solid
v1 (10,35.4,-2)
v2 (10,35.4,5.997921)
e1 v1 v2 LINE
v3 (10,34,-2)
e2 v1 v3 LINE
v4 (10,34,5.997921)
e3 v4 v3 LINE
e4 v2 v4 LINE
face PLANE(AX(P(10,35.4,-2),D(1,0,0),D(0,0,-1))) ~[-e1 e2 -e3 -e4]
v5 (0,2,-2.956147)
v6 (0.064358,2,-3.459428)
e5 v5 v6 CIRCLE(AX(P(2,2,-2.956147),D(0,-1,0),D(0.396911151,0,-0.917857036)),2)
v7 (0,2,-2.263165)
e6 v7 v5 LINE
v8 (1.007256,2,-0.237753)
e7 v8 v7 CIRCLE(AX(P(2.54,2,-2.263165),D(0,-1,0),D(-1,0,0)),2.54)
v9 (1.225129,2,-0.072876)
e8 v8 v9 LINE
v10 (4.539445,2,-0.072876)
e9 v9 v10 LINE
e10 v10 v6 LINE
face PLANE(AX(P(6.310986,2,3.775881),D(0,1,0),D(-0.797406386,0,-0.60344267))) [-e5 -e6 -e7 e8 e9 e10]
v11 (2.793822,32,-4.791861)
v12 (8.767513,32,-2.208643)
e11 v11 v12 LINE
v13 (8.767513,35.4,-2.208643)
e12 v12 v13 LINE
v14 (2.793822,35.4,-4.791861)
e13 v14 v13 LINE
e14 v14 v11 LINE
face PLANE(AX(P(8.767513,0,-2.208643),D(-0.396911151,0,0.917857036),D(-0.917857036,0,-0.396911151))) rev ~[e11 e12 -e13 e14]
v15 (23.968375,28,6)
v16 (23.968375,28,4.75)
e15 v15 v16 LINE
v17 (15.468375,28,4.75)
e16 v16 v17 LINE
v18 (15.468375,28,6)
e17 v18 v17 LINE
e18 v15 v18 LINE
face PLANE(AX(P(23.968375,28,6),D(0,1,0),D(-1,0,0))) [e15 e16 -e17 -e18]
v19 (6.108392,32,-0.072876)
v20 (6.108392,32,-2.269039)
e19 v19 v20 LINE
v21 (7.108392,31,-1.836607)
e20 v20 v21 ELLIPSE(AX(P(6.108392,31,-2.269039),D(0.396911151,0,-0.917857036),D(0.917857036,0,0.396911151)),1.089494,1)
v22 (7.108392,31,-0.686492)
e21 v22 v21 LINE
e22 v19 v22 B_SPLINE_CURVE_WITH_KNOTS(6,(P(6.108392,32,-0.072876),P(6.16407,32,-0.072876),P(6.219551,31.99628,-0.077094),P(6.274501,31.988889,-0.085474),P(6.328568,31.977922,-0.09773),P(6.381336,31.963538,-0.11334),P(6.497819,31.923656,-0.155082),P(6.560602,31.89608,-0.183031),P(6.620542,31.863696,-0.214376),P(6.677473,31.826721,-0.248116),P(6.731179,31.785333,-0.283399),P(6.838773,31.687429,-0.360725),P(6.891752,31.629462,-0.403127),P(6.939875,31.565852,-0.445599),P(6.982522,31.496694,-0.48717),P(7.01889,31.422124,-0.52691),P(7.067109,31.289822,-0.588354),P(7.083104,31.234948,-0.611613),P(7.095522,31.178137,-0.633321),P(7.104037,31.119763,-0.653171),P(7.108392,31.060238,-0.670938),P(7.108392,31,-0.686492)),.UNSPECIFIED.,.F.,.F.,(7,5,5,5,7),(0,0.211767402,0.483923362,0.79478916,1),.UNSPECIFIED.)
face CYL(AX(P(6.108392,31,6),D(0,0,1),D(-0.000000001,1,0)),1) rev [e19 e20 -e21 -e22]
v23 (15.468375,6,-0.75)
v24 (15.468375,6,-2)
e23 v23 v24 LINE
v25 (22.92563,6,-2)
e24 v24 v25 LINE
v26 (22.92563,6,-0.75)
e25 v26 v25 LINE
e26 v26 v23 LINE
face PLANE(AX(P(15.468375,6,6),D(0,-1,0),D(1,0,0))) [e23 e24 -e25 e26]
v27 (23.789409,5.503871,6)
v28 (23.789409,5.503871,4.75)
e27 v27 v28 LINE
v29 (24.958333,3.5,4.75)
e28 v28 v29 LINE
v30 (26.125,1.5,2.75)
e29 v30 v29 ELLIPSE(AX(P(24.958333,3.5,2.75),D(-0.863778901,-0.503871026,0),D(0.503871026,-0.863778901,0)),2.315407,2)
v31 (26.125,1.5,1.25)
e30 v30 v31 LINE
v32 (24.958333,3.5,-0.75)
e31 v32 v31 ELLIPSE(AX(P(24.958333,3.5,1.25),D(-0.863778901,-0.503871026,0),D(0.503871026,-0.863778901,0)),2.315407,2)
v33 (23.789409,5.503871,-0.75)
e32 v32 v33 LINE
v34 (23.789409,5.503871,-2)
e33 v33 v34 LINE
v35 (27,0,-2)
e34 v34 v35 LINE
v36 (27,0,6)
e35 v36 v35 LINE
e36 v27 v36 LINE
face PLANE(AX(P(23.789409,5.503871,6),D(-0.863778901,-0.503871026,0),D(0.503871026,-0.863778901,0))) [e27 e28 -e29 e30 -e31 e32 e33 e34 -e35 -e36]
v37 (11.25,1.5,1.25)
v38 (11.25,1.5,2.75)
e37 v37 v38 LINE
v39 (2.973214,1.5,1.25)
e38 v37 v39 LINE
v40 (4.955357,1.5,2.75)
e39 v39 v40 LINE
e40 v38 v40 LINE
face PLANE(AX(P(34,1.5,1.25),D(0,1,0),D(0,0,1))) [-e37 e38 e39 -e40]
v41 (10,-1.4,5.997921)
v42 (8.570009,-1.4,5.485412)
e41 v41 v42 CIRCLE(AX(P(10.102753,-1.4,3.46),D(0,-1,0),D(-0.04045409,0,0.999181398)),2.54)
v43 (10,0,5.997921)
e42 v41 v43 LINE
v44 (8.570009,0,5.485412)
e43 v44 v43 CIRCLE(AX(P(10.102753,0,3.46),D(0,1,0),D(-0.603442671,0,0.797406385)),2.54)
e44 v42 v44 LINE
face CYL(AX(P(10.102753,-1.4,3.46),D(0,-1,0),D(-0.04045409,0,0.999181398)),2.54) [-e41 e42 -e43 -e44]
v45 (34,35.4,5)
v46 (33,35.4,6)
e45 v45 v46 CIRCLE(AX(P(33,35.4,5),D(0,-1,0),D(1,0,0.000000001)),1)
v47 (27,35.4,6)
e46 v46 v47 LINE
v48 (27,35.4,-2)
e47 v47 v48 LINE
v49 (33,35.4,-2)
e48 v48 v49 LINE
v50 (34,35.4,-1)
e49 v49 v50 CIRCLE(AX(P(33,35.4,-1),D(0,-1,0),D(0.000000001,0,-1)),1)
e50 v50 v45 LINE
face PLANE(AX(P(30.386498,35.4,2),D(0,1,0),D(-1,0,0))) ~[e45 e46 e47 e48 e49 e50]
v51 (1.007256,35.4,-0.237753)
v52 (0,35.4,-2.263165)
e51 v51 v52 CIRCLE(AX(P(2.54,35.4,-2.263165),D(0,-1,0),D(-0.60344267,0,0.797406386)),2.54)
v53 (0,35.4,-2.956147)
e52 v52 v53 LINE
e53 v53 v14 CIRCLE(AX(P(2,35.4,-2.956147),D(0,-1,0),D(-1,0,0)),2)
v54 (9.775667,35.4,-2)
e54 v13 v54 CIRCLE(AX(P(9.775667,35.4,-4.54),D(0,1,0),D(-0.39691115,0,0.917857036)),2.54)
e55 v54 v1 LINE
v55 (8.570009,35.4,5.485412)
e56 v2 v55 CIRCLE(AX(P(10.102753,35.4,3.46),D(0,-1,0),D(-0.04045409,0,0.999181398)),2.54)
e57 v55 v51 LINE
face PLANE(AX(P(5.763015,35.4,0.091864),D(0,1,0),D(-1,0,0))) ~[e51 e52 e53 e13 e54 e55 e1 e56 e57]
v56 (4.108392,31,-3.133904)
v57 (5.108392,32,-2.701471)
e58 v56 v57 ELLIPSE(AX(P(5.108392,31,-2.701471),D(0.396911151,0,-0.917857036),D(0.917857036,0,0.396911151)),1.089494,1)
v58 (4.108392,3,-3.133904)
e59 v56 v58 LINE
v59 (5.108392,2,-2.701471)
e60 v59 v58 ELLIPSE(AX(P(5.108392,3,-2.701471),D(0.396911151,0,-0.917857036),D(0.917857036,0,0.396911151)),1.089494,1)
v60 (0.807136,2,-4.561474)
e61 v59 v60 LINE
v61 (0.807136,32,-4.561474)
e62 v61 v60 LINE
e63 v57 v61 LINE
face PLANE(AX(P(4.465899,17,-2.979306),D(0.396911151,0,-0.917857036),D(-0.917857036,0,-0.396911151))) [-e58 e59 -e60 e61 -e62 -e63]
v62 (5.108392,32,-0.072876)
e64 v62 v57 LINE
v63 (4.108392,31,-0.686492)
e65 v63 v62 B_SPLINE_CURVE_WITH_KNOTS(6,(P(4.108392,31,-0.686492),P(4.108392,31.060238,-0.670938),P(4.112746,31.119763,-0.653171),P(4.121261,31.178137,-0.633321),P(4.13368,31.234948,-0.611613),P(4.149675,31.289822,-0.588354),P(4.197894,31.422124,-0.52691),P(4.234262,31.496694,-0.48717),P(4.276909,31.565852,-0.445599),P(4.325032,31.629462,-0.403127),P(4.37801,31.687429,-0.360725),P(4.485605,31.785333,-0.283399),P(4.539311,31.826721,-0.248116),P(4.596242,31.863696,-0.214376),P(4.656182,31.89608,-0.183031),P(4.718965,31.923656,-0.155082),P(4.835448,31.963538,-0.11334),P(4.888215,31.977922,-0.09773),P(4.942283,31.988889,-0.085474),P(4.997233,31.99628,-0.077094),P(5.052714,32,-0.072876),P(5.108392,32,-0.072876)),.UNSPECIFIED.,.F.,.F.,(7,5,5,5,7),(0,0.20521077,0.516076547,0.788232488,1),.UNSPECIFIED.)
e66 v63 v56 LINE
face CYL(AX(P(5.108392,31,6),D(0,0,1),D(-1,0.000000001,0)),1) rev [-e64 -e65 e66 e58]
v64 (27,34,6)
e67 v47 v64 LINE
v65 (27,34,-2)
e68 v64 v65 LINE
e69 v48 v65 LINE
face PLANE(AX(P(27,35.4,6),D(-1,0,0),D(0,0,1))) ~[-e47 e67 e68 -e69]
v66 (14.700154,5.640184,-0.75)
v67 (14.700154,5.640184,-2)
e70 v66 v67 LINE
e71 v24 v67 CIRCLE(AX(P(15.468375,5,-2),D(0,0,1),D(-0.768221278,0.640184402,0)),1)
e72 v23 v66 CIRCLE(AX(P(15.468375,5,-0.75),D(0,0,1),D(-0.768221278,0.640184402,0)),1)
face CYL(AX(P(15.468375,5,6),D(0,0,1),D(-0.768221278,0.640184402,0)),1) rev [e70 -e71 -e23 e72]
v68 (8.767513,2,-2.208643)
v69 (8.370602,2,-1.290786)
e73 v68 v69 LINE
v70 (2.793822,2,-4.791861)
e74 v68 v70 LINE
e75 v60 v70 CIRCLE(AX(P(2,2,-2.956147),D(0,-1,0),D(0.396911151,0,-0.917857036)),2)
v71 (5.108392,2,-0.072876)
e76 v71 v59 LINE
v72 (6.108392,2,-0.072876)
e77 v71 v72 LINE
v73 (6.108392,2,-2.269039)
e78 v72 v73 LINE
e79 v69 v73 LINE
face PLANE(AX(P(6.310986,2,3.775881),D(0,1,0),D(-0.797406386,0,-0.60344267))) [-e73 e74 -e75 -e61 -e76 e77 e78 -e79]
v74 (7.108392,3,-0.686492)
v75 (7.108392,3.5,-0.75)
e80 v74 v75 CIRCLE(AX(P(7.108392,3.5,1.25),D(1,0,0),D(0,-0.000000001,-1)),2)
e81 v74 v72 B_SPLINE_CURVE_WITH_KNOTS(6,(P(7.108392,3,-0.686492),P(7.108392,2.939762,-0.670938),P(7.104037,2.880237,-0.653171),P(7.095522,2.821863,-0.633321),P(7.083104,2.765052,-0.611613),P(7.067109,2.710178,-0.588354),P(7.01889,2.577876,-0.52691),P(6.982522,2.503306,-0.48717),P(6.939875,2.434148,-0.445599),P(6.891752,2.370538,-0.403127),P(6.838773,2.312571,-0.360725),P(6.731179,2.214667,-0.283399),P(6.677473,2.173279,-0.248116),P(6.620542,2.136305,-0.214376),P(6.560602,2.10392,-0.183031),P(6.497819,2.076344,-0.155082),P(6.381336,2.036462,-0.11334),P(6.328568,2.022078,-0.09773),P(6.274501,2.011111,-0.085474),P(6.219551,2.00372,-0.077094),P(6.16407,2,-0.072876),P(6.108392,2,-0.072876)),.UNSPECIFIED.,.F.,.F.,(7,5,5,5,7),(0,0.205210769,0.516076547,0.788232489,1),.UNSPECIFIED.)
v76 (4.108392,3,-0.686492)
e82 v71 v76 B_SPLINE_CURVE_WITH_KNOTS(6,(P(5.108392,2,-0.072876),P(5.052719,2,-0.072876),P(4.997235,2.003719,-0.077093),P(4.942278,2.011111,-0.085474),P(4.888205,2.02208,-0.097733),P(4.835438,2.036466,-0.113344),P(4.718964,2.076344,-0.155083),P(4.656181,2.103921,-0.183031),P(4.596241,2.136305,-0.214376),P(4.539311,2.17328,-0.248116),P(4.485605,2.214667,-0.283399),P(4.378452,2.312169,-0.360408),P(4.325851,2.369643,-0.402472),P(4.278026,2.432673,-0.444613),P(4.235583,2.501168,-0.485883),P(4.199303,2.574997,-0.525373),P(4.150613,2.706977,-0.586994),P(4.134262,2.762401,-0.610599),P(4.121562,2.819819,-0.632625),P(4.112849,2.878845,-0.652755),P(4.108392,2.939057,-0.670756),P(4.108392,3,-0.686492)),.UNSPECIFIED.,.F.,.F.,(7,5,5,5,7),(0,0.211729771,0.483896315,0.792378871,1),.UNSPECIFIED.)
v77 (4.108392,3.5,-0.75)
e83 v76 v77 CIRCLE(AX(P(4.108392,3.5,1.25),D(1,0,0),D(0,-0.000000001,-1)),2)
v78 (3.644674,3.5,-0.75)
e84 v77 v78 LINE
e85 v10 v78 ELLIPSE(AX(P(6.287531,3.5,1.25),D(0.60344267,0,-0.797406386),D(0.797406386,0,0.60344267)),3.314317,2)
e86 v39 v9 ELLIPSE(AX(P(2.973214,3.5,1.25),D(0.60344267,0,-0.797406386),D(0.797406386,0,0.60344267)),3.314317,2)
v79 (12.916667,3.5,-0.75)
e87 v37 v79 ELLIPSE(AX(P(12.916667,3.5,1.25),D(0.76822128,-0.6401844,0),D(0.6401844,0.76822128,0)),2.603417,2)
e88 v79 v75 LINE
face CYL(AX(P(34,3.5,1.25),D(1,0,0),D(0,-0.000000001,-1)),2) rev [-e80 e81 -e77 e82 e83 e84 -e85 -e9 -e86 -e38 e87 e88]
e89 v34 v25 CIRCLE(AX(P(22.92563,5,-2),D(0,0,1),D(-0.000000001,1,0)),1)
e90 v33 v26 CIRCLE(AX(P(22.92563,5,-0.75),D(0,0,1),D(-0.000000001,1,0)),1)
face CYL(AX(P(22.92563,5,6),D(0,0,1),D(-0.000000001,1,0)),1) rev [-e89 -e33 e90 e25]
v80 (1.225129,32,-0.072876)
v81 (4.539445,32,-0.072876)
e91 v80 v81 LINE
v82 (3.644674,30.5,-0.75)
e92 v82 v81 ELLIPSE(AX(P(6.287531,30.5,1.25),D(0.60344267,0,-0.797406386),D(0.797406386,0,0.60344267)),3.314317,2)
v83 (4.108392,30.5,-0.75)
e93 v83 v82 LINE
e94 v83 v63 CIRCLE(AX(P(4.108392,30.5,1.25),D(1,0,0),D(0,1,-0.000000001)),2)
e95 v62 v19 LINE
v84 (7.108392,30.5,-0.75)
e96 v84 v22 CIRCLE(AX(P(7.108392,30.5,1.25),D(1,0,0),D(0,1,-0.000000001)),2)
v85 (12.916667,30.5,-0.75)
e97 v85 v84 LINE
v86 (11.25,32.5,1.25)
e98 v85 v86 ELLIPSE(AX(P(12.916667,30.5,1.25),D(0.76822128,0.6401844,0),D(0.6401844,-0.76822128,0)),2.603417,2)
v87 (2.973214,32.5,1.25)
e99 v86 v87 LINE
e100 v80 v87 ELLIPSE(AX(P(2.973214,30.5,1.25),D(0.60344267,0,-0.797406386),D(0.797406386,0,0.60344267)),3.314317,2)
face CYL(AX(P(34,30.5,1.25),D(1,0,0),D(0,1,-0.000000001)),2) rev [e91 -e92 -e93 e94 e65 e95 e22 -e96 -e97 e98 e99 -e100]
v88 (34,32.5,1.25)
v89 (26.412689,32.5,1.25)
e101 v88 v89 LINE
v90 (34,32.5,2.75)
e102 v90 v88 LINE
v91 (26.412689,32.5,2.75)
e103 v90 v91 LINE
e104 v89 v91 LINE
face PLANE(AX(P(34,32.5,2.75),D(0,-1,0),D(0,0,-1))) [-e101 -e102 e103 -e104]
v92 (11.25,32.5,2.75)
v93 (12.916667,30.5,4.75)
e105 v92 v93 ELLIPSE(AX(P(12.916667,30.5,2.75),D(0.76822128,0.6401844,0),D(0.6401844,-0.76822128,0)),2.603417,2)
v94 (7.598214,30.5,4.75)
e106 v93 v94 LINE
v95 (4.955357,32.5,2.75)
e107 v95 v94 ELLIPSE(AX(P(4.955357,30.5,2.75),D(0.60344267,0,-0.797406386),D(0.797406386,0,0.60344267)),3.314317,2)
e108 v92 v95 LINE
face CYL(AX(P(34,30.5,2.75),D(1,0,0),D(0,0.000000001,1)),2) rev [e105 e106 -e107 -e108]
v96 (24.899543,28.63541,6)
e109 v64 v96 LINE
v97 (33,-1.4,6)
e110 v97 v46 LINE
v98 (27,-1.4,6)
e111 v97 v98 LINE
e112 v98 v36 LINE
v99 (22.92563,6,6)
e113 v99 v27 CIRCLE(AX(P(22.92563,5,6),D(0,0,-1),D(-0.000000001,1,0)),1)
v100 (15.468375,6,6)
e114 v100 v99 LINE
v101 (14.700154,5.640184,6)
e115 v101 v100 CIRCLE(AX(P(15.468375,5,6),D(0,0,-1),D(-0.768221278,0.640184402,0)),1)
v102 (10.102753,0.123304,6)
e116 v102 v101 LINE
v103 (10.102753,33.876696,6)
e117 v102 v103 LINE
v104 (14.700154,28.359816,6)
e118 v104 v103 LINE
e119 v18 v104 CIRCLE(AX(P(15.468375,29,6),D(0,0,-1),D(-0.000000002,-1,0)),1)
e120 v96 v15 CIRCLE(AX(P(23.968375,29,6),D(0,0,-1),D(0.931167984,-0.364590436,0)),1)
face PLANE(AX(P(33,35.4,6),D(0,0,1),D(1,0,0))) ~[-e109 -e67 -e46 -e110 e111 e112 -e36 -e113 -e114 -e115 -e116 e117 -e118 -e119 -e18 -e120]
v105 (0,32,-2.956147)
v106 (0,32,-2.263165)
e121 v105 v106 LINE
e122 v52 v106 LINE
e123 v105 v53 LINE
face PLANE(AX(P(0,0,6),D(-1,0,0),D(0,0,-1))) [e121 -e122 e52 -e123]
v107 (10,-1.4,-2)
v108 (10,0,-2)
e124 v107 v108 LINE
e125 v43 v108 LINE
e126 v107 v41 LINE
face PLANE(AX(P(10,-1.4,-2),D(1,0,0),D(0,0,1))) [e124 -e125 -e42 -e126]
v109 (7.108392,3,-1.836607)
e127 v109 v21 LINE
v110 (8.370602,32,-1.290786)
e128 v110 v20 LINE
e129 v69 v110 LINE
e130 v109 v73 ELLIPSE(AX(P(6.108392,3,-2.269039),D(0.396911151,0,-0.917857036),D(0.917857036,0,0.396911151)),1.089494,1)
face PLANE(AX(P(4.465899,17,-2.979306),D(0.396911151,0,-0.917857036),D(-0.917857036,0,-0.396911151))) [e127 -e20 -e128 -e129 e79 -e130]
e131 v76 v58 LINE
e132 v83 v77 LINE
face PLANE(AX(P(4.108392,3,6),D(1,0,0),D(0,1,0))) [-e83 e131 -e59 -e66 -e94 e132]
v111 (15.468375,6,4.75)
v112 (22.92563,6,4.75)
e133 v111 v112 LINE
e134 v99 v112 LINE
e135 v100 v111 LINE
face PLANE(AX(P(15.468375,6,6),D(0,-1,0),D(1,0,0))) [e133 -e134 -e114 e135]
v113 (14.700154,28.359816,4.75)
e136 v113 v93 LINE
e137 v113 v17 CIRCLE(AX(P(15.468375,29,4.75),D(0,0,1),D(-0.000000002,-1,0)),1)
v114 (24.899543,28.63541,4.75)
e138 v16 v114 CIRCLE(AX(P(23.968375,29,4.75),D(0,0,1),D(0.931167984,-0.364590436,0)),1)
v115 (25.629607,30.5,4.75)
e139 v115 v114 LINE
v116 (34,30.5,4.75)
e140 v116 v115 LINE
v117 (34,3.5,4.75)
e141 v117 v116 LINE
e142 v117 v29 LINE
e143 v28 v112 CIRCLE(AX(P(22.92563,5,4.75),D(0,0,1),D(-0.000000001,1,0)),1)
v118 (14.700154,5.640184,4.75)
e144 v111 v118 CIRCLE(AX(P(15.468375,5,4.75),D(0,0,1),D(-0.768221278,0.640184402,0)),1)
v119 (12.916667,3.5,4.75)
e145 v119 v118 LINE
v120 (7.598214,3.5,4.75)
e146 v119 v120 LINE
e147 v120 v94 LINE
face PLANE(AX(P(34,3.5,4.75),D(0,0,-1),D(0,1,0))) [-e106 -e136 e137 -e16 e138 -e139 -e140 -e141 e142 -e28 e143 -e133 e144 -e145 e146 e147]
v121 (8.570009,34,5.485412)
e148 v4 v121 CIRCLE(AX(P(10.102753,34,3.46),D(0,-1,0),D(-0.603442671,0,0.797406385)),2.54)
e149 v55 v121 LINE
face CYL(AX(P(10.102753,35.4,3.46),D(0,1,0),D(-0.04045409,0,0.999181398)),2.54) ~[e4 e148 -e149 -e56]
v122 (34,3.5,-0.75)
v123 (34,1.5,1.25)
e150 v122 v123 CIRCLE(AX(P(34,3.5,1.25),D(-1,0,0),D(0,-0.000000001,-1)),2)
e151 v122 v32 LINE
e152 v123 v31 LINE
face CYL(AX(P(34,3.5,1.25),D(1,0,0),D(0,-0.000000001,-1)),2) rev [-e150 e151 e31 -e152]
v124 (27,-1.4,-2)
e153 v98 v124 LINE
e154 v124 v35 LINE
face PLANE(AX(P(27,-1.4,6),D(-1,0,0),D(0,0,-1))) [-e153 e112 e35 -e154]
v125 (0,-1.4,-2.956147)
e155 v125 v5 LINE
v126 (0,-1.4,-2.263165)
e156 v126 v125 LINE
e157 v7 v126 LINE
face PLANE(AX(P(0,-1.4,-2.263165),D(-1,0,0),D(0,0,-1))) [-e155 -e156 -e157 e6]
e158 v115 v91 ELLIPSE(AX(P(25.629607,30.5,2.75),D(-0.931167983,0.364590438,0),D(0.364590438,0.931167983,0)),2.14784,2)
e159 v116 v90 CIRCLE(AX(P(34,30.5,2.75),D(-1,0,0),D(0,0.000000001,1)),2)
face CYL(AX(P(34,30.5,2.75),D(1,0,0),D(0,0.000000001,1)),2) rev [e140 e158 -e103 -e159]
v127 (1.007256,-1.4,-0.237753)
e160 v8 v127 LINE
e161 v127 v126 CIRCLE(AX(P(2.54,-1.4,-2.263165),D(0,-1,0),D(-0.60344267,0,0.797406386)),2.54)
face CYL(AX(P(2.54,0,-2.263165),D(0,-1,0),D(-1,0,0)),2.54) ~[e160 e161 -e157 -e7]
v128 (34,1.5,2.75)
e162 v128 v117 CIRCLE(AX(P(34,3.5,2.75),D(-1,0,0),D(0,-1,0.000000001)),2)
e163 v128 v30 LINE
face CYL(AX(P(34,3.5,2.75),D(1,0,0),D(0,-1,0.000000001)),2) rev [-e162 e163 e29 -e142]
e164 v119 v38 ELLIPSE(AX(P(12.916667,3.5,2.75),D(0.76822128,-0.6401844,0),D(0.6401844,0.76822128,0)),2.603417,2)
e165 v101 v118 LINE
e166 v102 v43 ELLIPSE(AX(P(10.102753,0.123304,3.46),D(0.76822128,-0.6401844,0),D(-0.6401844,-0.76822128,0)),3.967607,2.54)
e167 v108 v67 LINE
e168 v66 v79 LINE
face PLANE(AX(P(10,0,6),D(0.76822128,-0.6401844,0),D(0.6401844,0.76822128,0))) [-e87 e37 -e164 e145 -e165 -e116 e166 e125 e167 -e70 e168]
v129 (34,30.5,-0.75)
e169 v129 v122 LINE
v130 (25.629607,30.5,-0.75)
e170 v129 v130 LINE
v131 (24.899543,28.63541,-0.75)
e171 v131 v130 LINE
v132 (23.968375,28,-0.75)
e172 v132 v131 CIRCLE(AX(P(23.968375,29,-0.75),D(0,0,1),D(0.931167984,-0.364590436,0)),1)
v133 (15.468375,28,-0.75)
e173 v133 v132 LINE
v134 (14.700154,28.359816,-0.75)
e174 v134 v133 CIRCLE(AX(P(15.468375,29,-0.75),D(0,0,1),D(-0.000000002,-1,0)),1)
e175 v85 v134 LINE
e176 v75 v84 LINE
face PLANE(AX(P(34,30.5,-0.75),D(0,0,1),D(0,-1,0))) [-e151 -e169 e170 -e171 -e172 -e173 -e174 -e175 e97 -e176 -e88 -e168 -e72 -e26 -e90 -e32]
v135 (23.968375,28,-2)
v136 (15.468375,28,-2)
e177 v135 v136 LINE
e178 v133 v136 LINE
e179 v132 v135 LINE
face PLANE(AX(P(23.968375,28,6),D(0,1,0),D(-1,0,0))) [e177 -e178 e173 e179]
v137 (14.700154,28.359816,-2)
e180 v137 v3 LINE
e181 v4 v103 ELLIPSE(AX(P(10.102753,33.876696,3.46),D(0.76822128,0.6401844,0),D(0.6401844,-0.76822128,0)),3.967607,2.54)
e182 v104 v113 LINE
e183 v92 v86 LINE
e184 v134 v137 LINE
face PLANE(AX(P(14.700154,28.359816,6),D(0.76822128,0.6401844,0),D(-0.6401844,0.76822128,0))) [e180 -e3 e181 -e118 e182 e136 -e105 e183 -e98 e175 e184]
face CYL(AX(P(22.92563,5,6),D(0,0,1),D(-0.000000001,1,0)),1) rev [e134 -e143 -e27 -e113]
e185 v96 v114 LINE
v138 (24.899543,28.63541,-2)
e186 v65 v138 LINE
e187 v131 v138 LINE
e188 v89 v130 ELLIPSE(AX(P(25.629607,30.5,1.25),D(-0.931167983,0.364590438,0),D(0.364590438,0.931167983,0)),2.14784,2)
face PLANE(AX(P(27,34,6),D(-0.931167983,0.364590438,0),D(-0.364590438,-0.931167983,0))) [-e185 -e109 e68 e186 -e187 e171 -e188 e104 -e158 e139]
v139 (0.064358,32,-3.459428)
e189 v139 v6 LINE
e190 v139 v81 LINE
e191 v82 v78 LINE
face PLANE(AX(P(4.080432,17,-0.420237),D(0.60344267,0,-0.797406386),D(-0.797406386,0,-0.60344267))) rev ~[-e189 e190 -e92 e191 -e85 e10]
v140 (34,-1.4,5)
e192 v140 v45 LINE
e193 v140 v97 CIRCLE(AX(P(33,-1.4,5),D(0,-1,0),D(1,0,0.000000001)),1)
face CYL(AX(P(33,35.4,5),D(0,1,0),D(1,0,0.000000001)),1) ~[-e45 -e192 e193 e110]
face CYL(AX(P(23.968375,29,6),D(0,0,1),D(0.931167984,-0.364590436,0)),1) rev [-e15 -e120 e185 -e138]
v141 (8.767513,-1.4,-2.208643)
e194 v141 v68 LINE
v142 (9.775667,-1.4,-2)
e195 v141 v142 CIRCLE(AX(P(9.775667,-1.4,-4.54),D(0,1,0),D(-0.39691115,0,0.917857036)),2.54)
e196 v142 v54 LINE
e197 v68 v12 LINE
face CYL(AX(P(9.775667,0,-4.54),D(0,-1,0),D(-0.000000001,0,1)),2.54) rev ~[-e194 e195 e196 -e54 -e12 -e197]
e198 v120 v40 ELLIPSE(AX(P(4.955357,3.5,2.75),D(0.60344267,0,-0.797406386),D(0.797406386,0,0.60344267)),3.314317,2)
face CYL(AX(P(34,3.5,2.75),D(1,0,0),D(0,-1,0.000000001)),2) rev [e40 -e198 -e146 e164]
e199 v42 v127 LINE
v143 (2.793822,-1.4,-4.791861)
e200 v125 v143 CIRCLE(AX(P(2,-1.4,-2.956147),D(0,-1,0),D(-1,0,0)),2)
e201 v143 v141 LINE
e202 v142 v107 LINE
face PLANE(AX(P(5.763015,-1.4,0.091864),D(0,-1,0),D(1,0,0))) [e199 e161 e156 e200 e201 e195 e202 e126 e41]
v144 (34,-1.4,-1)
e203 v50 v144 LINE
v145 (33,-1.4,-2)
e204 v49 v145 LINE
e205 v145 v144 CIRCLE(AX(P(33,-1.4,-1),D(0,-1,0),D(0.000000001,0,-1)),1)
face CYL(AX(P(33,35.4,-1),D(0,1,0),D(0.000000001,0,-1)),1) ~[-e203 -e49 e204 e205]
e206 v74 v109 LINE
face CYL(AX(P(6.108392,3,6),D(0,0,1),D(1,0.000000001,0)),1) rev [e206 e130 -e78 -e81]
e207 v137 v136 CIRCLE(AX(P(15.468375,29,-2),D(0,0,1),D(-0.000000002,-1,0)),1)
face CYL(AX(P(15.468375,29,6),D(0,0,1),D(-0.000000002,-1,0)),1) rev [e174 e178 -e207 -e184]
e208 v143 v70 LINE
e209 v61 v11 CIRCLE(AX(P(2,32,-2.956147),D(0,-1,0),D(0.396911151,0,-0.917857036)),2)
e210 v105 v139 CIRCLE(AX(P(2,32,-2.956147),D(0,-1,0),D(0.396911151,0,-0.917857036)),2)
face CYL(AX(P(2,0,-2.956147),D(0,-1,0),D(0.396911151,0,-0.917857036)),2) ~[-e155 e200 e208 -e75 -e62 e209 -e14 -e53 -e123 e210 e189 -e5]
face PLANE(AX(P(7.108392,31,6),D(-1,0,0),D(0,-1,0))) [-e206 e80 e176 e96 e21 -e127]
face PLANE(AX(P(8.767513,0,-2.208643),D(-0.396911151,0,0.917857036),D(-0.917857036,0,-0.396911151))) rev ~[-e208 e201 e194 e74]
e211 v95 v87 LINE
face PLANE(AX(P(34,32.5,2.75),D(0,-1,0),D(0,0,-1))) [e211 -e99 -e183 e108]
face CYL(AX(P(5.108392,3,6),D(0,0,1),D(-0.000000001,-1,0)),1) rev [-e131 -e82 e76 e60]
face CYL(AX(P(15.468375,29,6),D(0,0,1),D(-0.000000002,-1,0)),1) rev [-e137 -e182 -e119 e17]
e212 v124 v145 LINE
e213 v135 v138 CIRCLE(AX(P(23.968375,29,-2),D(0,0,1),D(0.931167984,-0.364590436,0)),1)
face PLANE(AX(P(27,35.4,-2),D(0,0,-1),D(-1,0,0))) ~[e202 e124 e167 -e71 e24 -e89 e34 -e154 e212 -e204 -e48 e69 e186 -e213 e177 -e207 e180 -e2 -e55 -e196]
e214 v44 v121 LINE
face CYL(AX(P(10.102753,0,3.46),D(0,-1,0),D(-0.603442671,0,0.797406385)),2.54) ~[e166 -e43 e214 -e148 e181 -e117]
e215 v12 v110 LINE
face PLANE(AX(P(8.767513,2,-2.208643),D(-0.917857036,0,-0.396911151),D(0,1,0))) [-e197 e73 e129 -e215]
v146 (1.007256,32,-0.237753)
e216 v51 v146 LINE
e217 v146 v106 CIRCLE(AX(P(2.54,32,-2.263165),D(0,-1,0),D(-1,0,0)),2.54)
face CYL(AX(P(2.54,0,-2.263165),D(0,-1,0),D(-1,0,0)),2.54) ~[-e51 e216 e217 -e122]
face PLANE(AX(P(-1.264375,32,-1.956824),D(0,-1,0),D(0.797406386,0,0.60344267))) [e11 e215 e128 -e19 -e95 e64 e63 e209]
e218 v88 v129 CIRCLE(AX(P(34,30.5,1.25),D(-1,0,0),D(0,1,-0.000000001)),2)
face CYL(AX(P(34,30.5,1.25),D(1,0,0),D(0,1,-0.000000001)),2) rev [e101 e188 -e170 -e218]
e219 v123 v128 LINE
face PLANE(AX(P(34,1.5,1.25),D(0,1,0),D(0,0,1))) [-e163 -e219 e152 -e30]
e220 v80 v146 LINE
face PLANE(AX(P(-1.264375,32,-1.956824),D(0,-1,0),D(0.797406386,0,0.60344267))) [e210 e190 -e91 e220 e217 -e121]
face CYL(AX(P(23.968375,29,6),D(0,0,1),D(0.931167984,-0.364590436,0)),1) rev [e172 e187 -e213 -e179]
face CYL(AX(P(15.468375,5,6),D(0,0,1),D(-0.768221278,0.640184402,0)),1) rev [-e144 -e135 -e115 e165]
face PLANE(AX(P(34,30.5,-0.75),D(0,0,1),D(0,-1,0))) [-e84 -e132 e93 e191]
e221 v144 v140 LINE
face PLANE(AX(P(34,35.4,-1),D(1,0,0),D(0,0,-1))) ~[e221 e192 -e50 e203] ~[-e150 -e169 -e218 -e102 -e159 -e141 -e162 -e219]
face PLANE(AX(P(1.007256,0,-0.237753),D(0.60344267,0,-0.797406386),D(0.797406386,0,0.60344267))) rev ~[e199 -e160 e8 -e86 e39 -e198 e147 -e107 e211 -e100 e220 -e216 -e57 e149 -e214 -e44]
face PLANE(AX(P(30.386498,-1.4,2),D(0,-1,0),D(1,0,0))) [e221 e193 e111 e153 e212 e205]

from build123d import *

# Parameters (mm, degrees)
SKETCH1_W               = 34
SKETCH1_H               = 12
BOSS_EXTRUDE1_DEPTH     = 34.00000007
CUT_EXTRUDE_THIN1_DEPTH = 49.456165807
CUT_EXTRUDE1_DEPTH      = 2
SKETCH5_W               = 8.508301653
SKETCH5_H               = 30.00000007
CUT_EXTRUDE2_DEPTH      = 1
CUT_EXTRUDE3_DEPTH      = 50.315688701
CUT_EXTRUDE4_DEPTH      = 49.456165807
BOSS_EXTRUDE2_START     = 1.4
BOSS_EXTRUDE2_DEPTH     = 1.4


with BuildPart() as part:
    # Sketch1 → Boss-Extrude1 (new body)
    with BuildSketch(Plane(origin=(0, 0, 0), x_dir=(1, 0, 0), z_dir=(0, 1, 0))):
        with Locations((17, 0)):
            Rectangle(SKETCH1_W, SKETCH1_H)
    extrude(amount=BOSS_EXTRUDE1_DEPTH)

    # Sketch2 → Cut-Extrude-Thin1 (cut, through all)
    with BuildSketch(Plane.XZ):
        with BuildLine():
            Line((33, -9.62), (10.827001263, -9.62))
            Line((10.827001263, -9.62), (5.81828527, -11.78593124))
            ThreePointArc((5.81828527, -11.78593124), (-3.282636449, -10.995932133), (-7.62, -2.956146555))
            Line((-7.62, -2.956146555), (-7.62, -2.263164725))
            ThreePointArc((-7.62, -2.263164725), (-6.557151524, 2.260930118), (-3.590977529, 5.838484153))
            Line((-3.590977529, 5.838484153), (3.971775857, 11.561648878))
            ThreePointArc((3.971775857, 11.561648878), (6.869113997, 13.091675675), (10.102753387, 13.62))
            Line((10.102753387, 13.62), (33, 13.62))
            ThreePointArc((33, 13.62), (39.095260454, 11.095260454), (41.62, 5))
            Line((41.62, 5), (41.62, -1))
            ThreePointArc((41.62, -1), (39.095260454, -7.095260454), (33, -9.62))
        make_face()
        with BuildLine():
            Line((33, -2), (9.775667088, -2))
            ThreePointArc((9.775667088, -2), (9.260908141, -2.052707652), (8.767512765, -2.208643129))
            Line((8.767512765, -2.208643129), (2.793822301, -4.791860626))
            ThreePointArc((2.793822301, -4.791860626), (0.901738784, -4.627619648), (0, -2.956146555))
            Line((0, -2.956146555), (0, -2.263164725))
            ThreePointArc((0, -2.263164725), (0.265712119, -1.132141014), (1.007255618, -0.237752506))
            Line((1.007255618, -0.237752506), (8.570009004, 5.485412219))
            ThreePointArc((8.570009004, 5.485412219), (9.294343539, 5.867918919), (10.102753387, 6))
            Line((10.102753387, 6), (33, 6))
            ThreePointArc((33, 6), (33.707106781, 5.707106781), (34, 5))
            Line((34, 5), (34, -1))
            ThreePointArc((34, -1), (33.707106781, -1.707106781), (33, -2))
        make_face(mode=Mode.SUBTRACT)
    extrude(amount=-CUT_EXTRUDE_THIN1_DEPTH, mode=Mode.SUBTRACT)

    # Sketch3 → Cut-Extrude1 (cut)
    with BuildSketch(Plane(origin=(0.481189039, 0, -0.635856944), x_dir=(0.7974063856023161, 0, 0.6034426701855364), z_dir=(-0.6034426701855365, 0, 0.7974063856023162))):
        with BuildLine():
            Line((-2.189052199, 32.00000007), (7.310947801, 32.00000007))
            ThreePointArc((7.310947801, 32.00000007), (8.018054582, 31.707106851), (8.310947801, 31.00000007))
            Line((8.310947801, 31.00000007), (8.310947801, 3))
            ThreePointArc((8.310947801, 3), (8.018054582, 2.292893219), (7.310947801, 2))
            Line((7.310947801, 2), (-2.189052199, 2))
            Line((-2.189052199, 2), (-2.189052199, 32.00000007))
        make_face()
    extrude(amount=-CUT_EXTRUDE1_DEPTH, mode=Mode.SUBTRACT)

    # Sketch5 → Cut-Extrude2 (cut)
    with BuildSketch(Plane(origin=(2.185846154, 0, -5.054769231), x_dir=(-0.9178570359601427, 0, -0.39691115068546684), z_dir=(0.39691115068546684, 0, -0.9178570359601427))):
        with Locations((-2.916537368, 17.000000035)):
            Rectangle(SKETCH5_W, SKETCH5_H)
    extrude(amount=-CUT_EXTRUDE2_DEPTH, mode=Mode.SUBTRACT)

    # Sketch6 → Cut-Extrude3 (cut, through all)
    with BuildSketch(Plane.XY.offset(6)):
        with BuildLine():
            Line((5.108391885, 32.00000007), (6.108391885, 32.00000007))
            ThreePointArc((6.108391885, 32.00000007), (6.815498667, 31.707106851), (7.108391885, 31.00000007))
            Line((7.108391885, 31.00000007), (7.108391885, 3))
            ThreePointArc((7.108391885, 3), (6.815498667, 2.292893219), (6.108391885, 2))
            Line((6.108391885, 2), (5.108391885, 2))
            ThreePointArc((5.108391885, 2), (4.401285104, 2.292893219), (4.108391885, 3))
            Line((4.108391885, 3), (4.108391885, 31.00000007))
            ThreePointArc((4.108391885, 31.00000007), (4.401285104, 31.707106851), (5.108391885, 32.00000007))
        make_face()
        with BuildLine():
            Line((10, 34.00000007), (27, 34.00000007))
            Line((27, 34.00000007), (24.899542929, 28.635409633))
            ThreePointArc((24.899542929, 28.635409633), (24.532028014, 28.173988436), (23.968374946, 28.00000007))
            Line((23.968374946, 28.00000007), (15.468374946, 28.00000007))
            ThreePointArc((15.468374946, 28.00000007), (15.04421955, 28.094410649), (14.700153666, 28.35981567))
            Line((14.700153666, 28.35981567), (10, 34.00000007))
        make_face()
        with BuildLine():
            Line((10, 0), (14.700153666, 5.6401844))
            ThreePointArc((14.700153666, 5.6401844), (15.04421955, 5.905589421), (15.468374946, 6))
            Line((15.468374946, 6), (22.925629668, 6))
            ThreePointArc((22.925629668, 6), (23.423690394, 5.867142153), (23.789408568, 5.503871026))
            Line((23.789408568, 5.503871026), (27, 0))
            Line((27, 0), (10, 0))
        make_face()
    extrude(amount=-CUT_EXTRUDE3_DEPTH, mode=Mode.SUBTRACT)

    # Sketch7 → Cut-Extrude4 (cut, through all)
    with BuildSketch(Plane(origin=(34, 0, 0), x_dir=(0, 0, -1), z_dir=(1, 0, 0))):
        with BuildLine():
            Line((-2.75, 32.50000007), (-1.25, 32.50000007))
            ThreePointArc((-1.25, 32.50000007), (0.164213562, 31.914213632), (0.75, 30.50000007))
            Line((0.75, 30.50000007), (0.75, 3.5))
            ThreePointArc((0.75, 3.5), (0.164213562, 2.085786438), (-1.25, 1.5))
            Line((-1.25, 1.5), (-2.75, 1.5))
            ThreePointArc((-2.75, 1.5), (-4.164213562, 2.085786438), (-4.75, 3.5))
            Line((-4.75, 3.5), (-4.75, 30.50000007))
            ThreePointArc((-4.75, 30.50000007), (-4.164213562, 31.914213632), (-2.75, 32.50000007))
        make_face()
    extrude(amount=-CUT_EXTRUDE4_DEPTH, mode=Mode.SUBTRACT)

    # Sketch8 → Boss-Extrude2 (add)
    with BuildSketch(Plane.XZ.offset(BOSS_EXTRUDE2_START)):
        with BuildLine():
            Line((27, 6), (27, -2))
            Line((27, -2), (33, -2))
            ThreePointArc((33, -2), (33.707106781, -1.707106781), (34, -1))
            Line((34, -1), (34, 5))
            ThreePointArc((34, 5), (33.707106781, 5.707106781), (33, 6))
            Line((33, 6), (27, 6))
        make_face()
        with BuildLine():
            Line((10, -2), (10, 5.997920752))
            ThreePointArc((10, 5.997920752), (9.245793944, 5.851070997), (8.570009004, 5.485412219))
            Line((8.570009004, 5.485412219), (1.007255618, -0.237752506))
            ThreePointArc((1.007255618, -0.237752506), (0.265712119, -1.132141014), (0, -2.263164725))
            Line((0, -2.263164725), (0, -2.956146555))
            ThreePointArc((0, -2.956146555), (0.901738784, -4.627619648), (2.793822301, -4.791860626))
            Line((2.793822301, -4.791860626), (8.767512765, -2.208643129))
            ThreePointArc((8.767512765, -2.208643129), (9.260908141, -2.052707652), (9.775667088, -2))
            Line((9.775667088, -2), (10, -2))
        make_face()
    boss_extrude2 = extrude(amount=-BOSS_EXTRUDE2_DEPTH)

    # Mirror1: Boss-Extrude2 across plane
    add(boss_extrude2.mirror(Plane(origin=(0, 17.000000035, 0), x_dir=(0, 0, 1), z_dir=(0, -1, 0))))


solid = part.part
